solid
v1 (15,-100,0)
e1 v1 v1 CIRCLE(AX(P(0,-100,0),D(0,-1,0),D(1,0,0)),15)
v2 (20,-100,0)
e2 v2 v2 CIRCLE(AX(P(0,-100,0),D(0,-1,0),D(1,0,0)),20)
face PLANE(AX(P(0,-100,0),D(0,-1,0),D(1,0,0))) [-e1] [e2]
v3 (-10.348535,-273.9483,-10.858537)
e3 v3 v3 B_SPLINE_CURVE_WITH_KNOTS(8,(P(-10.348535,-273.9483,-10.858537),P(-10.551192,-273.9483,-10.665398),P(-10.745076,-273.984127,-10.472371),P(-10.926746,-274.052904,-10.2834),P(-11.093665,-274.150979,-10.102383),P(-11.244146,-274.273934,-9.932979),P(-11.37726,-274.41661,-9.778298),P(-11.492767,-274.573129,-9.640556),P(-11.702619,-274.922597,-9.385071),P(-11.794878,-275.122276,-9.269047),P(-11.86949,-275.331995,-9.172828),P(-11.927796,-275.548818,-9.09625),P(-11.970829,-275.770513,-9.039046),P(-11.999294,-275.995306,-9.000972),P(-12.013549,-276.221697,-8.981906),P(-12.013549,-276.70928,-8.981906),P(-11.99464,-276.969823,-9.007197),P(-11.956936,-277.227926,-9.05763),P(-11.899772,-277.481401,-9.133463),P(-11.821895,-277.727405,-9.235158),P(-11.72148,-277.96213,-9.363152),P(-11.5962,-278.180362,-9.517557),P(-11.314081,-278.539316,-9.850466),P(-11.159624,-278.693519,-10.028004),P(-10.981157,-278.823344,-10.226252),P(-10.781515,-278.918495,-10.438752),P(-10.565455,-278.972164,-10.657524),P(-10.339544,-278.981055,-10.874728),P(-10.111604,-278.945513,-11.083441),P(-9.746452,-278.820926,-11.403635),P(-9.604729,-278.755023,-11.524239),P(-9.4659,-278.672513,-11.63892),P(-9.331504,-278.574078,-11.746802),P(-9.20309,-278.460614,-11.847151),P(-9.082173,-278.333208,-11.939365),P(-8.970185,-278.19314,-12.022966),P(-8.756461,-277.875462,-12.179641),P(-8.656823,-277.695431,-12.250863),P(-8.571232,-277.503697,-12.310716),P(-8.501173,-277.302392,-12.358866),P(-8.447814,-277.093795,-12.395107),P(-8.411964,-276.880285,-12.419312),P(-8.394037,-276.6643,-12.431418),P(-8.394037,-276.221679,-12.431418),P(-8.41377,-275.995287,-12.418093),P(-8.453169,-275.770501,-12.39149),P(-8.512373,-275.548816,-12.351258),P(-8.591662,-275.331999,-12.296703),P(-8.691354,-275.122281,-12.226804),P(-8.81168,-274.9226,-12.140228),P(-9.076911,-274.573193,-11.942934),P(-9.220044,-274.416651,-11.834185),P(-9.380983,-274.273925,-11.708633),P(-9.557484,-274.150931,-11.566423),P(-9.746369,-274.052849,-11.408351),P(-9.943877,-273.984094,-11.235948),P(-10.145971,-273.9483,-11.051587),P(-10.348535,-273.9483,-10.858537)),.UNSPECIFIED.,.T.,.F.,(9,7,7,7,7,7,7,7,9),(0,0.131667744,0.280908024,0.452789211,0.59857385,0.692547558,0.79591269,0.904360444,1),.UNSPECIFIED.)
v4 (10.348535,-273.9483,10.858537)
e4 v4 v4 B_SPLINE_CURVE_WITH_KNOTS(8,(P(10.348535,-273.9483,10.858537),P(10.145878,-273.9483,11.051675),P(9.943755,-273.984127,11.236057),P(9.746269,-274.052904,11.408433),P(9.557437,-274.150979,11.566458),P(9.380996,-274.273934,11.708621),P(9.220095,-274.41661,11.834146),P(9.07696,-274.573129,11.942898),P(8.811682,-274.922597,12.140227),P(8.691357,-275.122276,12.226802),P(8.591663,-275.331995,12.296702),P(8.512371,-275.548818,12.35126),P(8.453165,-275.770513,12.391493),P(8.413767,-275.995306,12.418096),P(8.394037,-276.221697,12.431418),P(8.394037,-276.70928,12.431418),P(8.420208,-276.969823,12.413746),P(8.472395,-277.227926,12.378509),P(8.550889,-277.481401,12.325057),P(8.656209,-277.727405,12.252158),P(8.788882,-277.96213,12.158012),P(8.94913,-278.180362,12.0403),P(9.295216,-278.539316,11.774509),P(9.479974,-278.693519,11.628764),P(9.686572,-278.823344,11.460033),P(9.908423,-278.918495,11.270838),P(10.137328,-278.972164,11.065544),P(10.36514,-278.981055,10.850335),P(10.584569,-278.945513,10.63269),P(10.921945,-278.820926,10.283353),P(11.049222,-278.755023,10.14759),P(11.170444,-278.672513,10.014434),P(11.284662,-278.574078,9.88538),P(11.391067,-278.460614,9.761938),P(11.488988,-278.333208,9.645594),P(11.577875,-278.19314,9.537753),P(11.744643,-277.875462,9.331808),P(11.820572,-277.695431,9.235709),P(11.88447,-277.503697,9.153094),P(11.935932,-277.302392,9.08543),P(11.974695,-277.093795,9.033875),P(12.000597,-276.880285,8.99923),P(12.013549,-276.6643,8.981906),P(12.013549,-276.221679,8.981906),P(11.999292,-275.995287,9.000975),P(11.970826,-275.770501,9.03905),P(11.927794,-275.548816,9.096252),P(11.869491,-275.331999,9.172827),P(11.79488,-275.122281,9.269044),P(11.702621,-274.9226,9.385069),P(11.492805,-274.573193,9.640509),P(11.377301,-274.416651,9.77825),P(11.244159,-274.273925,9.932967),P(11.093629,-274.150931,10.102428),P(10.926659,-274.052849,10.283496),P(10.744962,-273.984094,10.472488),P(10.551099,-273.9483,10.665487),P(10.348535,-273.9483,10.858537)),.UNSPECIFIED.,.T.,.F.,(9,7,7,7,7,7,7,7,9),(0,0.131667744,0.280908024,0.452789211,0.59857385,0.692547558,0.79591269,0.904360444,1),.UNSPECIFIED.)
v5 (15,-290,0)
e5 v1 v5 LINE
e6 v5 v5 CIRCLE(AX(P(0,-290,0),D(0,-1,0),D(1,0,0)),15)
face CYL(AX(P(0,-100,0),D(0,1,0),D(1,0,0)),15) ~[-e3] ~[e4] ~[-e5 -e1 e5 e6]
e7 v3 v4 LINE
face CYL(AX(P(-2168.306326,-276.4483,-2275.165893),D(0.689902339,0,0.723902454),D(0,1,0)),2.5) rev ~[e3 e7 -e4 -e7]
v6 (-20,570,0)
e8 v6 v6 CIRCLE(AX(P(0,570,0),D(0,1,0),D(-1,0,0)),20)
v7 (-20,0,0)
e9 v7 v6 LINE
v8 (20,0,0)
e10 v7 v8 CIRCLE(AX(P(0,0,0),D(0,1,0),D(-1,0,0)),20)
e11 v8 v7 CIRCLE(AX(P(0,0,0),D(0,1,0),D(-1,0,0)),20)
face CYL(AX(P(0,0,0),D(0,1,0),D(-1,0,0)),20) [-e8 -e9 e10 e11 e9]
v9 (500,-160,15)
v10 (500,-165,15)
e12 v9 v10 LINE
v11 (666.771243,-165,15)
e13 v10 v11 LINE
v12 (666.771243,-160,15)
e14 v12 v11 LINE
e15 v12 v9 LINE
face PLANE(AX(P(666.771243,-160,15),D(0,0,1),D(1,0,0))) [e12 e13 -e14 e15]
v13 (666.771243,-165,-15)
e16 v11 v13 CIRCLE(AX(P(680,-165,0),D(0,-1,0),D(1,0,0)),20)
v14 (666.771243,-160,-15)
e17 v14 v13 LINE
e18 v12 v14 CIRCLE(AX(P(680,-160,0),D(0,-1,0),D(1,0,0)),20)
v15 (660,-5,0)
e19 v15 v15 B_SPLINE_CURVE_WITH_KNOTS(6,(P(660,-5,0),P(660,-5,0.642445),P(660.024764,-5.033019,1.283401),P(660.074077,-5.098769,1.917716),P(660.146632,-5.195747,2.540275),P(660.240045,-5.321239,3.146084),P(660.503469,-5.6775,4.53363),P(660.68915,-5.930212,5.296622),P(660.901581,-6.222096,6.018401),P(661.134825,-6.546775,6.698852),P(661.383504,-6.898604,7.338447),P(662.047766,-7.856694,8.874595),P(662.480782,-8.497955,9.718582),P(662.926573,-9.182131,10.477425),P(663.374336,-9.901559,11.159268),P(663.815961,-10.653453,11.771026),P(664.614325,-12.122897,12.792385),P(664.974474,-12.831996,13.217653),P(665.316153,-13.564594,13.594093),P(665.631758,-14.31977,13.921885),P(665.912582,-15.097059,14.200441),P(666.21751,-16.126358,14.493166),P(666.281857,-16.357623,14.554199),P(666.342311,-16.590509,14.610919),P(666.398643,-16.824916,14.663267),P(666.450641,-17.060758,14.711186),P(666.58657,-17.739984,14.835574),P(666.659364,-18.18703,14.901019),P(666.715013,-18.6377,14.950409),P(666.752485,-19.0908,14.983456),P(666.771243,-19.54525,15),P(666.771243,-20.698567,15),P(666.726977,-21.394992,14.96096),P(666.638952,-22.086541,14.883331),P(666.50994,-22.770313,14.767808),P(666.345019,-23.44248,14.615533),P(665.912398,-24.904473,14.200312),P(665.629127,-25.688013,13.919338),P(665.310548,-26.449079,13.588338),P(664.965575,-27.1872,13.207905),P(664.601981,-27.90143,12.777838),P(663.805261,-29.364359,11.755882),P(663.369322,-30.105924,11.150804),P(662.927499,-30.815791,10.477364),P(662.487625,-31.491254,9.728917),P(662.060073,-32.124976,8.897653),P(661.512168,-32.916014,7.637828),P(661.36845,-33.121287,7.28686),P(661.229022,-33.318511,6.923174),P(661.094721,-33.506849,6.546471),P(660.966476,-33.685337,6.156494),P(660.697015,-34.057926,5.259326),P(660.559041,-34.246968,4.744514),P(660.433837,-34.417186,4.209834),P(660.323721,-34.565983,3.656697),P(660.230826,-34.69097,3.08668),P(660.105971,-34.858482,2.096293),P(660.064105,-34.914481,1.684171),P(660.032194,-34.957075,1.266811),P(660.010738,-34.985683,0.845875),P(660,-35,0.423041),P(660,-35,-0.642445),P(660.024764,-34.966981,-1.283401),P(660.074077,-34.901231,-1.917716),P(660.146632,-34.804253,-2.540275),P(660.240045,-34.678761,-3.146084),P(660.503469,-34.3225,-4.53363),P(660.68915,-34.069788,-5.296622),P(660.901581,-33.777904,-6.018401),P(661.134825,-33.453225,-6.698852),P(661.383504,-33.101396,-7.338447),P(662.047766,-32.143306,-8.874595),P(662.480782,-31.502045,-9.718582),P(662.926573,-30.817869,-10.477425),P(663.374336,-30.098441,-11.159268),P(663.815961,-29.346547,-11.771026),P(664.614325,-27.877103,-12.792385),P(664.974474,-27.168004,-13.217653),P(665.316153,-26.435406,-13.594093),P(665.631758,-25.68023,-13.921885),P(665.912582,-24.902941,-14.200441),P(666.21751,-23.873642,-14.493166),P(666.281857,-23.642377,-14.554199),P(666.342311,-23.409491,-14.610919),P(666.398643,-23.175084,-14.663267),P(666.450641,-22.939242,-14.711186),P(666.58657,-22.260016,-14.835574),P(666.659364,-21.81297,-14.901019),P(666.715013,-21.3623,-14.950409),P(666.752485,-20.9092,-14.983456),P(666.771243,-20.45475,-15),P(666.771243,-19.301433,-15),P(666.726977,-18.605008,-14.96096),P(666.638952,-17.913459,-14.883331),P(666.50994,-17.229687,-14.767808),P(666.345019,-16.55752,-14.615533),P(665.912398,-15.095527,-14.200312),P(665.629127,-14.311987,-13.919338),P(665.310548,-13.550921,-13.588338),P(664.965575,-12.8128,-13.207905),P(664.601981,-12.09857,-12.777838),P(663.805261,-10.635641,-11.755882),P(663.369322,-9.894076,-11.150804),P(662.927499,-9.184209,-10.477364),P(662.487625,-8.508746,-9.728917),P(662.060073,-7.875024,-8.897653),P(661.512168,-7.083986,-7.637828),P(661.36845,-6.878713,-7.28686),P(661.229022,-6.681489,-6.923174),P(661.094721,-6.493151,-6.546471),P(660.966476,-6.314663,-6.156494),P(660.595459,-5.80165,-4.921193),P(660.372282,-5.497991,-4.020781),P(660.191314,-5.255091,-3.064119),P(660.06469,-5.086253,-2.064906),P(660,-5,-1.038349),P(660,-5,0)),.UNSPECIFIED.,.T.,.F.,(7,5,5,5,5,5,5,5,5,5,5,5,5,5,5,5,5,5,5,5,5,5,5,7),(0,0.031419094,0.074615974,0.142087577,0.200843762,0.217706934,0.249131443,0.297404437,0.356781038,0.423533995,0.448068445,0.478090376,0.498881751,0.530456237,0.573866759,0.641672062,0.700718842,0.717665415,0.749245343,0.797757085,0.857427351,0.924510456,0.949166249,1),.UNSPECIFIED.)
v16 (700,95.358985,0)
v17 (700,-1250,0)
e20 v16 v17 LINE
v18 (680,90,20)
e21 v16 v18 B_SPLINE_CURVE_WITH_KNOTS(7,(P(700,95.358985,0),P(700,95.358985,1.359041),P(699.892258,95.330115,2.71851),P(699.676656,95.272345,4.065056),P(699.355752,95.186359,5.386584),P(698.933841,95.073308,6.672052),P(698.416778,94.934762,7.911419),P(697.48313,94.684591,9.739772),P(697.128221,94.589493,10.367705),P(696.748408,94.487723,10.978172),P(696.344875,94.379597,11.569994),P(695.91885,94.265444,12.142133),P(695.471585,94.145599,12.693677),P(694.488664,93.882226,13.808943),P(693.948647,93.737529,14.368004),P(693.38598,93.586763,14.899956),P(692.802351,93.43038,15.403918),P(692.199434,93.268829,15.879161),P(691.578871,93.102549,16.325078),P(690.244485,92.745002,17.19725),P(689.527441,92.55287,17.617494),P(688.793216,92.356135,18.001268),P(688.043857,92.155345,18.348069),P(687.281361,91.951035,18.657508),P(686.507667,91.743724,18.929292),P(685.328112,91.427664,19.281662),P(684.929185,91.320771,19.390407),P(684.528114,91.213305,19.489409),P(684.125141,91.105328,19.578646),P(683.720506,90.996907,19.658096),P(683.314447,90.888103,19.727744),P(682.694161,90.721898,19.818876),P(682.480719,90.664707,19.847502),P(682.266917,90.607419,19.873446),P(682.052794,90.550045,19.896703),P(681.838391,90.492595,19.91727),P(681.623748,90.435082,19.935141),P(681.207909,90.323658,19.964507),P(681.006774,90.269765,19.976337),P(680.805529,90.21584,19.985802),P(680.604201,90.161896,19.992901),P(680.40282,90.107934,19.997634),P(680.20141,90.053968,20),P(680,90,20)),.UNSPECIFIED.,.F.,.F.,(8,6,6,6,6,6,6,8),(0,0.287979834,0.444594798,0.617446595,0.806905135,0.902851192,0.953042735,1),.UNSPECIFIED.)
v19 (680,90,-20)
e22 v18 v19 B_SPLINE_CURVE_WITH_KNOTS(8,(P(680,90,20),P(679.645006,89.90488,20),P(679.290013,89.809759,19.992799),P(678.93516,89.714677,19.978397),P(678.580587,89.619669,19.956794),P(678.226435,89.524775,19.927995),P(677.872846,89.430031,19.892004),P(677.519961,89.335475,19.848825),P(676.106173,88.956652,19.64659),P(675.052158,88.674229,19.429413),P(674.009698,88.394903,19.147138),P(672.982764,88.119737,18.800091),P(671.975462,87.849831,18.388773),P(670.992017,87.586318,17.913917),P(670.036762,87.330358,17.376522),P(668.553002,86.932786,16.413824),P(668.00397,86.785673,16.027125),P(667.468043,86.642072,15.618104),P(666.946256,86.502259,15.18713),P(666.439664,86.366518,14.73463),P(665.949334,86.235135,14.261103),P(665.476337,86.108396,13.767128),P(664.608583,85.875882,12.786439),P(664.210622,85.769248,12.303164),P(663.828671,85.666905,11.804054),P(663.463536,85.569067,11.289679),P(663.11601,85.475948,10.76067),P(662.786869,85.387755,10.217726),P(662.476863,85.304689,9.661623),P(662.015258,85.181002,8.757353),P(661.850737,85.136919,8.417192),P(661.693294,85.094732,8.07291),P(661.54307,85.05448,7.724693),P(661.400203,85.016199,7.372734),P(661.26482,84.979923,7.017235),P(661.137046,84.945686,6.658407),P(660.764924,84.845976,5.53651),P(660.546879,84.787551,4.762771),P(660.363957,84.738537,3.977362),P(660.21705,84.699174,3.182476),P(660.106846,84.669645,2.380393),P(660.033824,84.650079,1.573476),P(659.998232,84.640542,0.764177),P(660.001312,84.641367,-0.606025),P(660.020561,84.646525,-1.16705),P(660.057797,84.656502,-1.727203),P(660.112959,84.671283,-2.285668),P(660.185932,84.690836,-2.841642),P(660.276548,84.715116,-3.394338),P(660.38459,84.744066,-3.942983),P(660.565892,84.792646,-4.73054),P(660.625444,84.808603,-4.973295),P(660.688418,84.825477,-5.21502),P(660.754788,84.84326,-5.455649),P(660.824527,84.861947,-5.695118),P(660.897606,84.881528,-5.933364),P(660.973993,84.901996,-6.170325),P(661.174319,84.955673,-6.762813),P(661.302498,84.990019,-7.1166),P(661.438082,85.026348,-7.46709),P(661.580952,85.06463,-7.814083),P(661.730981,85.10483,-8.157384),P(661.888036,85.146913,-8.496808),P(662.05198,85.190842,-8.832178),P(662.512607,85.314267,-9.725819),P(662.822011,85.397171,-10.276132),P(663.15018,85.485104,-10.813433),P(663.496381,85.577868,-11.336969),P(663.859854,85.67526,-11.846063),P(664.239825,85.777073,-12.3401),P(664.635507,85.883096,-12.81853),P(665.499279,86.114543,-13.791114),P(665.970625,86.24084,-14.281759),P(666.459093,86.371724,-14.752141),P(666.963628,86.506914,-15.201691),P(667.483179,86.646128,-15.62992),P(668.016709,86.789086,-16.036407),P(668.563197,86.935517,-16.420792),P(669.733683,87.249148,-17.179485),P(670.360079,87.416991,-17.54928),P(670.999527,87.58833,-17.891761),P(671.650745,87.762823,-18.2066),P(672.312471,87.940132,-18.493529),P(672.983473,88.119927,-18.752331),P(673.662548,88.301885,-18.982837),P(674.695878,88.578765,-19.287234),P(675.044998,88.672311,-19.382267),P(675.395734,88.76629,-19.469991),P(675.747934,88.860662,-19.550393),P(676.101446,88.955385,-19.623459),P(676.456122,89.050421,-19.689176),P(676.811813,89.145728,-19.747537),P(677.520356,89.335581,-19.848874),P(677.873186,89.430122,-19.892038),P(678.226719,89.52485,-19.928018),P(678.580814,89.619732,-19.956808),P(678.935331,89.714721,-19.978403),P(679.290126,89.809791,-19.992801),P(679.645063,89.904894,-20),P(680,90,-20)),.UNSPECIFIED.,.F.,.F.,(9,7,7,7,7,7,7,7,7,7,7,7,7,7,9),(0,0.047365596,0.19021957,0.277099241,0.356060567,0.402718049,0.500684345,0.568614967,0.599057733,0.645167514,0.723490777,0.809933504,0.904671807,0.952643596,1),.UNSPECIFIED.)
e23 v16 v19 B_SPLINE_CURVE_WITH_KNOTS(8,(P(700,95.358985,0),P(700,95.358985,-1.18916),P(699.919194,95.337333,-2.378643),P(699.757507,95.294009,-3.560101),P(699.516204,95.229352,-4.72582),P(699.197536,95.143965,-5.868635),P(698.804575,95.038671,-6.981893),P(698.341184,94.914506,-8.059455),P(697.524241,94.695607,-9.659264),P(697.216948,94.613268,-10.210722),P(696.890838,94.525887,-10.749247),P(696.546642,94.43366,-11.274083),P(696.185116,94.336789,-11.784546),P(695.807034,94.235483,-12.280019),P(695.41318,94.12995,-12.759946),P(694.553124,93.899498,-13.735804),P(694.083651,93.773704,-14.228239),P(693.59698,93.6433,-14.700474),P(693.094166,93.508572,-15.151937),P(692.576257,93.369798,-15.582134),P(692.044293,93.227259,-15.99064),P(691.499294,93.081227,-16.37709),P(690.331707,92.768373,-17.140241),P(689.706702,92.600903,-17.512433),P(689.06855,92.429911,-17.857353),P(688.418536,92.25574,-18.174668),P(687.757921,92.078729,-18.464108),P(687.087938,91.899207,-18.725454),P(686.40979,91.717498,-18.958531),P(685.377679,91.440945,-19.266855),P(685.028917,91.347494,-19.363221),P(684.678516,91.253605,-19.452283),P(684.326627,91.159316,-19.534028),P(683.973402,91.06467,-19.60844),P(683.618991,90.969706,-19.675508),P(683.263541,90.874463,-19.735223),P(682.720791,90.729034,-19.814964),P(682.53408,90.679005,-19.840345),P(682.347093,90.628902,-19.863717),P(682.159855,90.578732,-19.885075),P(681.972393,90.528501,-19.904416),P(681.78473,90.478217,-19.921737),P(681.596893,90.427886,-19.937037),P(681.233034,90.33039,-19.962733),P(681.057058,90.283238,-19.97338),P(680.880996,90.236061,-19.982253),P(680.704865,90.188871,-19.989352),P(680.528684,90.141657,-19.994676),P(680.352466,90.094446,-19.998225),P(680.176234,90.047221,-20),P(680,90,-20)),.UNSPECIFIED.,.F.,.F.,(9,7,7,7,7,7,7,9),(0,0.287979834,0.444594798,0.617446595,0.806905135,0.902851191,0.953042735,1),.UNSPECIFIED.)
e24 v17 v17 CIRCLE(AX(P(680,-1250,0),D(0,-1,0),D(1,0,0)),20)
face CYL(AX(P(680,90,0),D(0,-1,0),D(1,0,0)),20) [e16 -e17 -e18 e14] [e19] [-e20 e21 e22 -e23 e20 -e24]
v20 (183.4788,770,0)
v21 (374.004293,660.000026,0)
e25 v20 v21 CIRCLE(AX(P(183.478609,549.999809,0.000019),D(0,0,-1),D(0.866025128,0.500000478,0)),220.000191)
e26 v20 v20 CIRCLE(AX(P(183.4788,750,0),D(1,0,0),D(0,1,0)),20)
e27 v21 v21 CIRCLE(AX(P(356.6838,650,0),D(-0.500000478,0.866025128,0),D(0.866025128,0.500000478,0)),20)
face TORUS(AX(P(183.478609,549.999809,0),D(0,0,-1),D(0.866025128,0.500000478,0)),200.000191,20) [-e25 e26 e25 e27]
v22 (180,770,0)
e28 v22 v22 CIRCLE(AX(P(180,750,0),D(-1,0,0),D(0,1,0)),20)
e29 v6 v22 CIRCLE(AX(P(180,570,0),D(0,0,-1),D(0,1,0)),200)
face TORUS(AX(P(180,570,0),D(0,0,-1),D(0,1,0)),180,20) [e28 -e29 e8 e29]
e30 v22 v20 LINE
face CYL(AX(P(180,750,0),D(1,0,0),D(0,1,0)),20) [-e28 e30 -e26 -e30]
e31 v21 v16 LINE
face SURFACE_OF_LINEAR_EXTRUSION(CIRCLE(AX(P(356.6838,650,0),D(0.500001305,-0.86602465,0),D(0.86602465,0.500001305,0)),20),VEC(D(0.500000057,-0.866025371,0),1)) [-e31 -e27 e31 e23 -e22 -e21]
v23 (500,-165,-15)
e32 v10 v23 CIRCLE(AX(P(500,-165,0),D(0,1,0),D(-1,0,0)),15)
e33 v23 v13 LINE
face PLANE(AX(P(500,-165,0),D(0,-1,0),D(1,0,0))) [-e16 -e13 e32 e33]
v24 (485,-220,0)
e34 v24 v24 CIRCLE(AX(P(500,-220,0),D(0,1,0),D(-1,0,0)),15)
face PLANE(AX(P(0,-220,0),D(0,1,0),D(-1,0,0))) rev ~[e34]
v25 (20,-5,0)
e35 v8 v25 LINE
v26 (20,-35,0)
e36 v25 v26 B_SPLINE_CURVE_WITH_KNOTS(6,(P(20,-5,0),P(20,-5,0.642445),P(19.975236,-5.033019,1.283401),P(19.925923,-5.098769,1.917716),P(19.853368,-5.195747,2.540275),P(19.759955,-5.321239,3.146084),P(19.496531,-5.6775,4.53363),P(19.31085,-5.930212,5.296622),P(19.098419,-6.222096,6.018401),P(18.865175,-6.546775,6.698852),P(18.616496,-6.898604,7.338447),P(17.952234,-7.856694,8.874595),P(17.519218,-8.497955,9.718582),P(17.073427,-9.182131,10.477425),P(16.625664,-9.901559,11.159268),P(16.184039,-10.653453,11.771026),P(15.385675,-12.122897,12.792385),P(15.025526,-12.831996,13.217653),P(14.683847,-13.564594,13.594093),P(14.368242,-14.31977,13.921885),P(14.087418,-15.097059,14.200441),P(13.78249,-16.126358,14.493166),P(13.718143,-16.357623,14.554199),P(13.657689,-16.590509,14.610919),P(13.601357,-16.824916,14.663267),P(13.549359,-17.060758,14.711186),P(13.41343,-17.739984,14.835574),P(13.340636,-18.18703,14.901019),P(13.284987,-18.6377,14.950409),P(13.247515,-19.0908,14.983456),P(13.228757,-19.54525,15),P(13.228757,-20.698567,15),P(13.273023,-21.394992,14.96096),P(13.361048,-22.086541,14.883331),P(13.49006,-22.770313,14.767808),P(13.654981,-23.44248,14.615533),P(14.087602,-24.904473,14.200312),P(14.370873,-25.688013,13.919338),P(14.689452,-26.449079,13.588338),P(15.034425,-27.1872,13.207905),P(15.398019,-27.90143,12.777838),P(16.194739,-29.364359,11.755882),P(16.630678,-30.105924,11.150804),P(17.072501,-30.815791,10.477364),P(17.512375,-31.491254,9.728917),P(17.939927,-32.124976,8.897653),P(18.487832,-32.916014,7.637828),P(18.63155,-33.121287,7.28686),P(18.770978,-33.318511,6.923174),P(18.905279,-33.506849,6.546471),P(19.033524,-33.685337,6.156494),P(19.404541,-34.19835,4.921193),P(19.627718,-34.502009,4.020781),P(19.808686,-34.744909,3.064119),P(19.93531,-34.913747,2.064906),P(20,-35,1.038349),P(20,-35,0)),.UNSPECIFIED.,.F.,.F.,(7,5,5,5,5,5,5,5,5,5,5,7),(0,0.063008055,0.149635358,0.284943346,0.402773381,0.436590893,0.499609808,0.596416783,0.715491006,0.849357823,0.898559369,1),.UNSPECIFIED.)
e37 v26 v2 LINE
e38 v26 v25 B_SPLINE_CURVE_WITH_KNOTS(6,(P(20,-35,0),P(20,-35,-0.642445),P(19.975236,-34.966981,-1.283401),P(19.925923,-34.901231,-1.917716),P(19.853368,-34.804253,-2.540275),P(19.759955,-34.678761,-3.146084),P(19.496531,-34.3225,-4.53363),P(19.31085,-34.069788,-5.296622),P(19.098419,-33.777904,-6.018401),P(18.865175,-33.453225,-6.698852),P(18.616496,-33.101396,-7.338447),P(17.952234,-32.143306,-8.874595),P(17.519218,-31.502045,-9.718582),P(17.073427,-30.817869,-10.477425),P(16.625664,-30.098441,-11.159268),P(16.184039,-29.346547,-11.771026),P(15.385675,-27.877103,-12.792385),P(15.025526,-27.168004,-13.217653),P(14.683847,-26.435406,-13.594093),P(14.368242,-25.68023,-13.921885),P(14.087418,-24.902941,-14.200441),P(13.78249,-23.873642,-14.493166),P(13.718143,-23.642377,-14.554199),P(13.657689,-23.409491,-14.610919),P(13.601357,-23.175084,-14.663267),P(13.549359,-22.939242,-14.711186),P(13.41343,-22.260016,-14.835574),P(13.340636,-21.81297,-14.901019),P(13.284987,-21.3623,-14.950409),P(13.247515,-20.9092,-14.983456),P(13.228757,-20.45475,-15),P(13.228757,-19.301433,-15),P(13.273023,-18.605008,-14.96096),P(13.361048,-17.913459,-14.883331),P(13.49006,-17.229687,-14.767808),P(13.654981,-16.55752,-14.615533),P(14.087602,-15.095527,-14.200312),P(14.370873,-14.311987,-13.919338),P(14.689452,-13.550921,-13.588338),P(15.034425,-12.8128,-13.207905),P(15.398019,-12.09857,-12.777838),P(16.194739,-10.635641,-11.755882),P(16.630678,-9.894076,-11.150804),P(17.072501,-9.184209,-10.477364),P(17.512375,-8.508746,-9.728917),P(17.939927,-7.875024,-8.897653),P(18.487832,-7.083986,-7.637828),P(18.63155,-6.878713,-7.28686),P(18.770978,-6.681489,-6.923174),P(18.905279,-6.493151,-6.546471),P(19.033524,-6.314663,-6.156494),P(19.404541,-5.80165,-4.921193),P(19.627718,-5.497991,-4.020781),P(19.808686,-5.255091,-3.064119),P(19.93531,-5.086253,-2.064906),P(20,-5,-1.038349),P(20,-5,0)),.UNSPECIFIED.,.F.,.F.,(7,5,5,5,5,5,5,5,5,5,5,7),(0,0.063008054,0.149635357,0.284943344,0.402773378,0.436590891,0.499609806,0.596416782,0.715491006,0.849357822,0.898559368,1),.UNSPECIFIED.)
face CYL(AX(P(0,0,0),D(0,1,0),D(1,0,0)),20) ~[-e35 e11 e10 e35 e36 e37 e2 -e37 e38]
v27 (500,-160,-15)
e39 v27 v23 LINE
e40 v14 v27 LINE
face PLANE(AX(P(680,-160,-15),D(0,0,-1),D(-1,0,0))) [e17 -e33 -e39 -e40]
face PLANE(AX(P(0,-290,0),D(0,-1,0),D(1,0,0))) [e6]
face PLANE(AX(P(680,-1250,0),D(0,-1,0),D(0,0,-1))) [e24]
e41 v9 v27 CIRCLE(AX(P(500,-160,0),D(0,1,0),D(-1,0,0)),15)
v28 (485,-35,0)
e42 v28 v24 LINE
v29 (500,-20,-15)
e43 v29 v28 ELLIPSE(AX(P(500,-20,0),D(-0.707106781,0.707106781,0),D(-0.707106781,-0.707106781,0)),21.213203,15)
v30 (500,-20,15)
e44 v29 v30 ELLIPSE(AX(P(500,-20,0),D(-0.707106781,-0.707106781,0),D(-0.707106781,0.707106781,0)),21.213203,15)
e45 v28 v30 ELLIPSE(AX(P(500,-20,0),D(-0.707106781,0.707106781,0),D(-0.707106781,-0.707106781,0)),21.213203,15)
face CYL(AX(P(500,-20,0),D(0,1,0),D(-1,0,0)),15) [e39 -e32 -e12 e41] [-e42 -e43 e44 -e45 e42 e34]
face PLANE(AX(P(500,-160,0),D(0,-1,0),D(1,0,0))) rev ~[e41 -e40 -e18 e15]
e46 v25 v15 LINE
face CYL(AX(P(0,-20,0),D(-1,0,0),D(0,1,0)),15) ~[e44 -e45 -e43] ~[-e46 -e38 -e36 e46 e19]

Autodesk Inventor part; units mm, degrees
ref_plane "YZ Plane" through (0, 0, 0) normal (1, 0, 0) x (0, 1, 0)
ref_plane "XY Plane" through (0, 0, 0) normal (0, 0, 1) x (1, 0, 0)
sketch "Skizze1" plane through (0, 0, 0) normal (0, 1, 0) x (-1, 0, 0)
  circle A0 centre (0, 0) radius 20
  dimension "d0" = 40
sketch "Skizze2" plane through (0, 0, 0) normal (0, 0, 1) x (1, 0, 0)
  line L0 (0, 0) -> (0, 570)
  line L1 (180, 750) -> (183.4788, 750)
  line L2 (356.6838, 650) -> (680, 90)
  line L3 (680, 90) -> (680, -1250)
  arc A0 (180, 750) -> (0, 570) centre (180, 570) ccw
  arc A1 (356.6838, 650) -> (183.4788, 750) centre (183.4788, 550) ccw
  point P0 (0, 750)
  dimension "d1" = 750
  dimension "d4" = 90
  dimension "d8" = 2000
  dimension "d9" = 30
  dimension "d10" = 680
  dimension "d11" = 180
  dimension "d12" = 200
sweep "Sweeping1" add profiles "Skizze1" path "Skizze2"
sketch "Skizze3" plane through (0, 0, 0) normal (1, 0, 0) x (0, 1, 0)
  circle A0 centre (-20, 0) radius 15
  line L0 (0, 20) -> (0, -20) projected
  point P0 (0, 0)
  point P1 (0, 0)
  dimension "d16" = 30
  dimension "d27" = 20
extrude "Extrusion1" add sketch "Skizze3" along normal blind 680
sketch "Skizze4" plane through (0, 0, 0) normal (0, -1, 0) x (1, 0, 0)
  circle A0 centre (0, 0) radius 20 projected
extrude "Extrusion2" add sketch "Skizze4" along normal blind 100
ref_plane "Arbeitsebene1" through (0, -20, 0) normal (0, 1, 0) x (-1, 0, 0)
sketch "Skizze5" plane through (0, -20, 0) normal (0, 1, 0) x (-1, 0, 0)
  circle A0 centre (0, 0) radius 20 projected
  circle A1 centre (-500, 0) radius 15
  dimension "d23" = 30
  dimension "d24" = 500
extrude "Extrusion3" add sketch "Skizze5" against normal blind 200 contours A1
ref_plane "Arbeitsebene2" through (500, -160, 0) normal (0, -1, 0) x (1, 0, 0)
sketch "Skizze6" plane through (500, -160, 0) normal (0, -1, 0) x (1, 0, 0)
  circle A0 centre (180, 0) radius 20 projected
  circle A1 centre (0, 0) radius 15 projected
  line L0 (0, 15) -> (180, 15)
  line L1 (180, 15) -> (180, -15)
  line L2 (180, -15) -> (0, -15)
  line L3 (0, -15) -> (0, 15)
  point P0 (-500, 0)
  dimension "d29" = 30
  dimension "d30" = 15
  dimension "d31" = 0
extrude "Extrusion4" add sketch "Skizze6" along normal blind 5 contours L0 L1 L2 A0 | A0 L2 A1 L0 | A1 L3 picked at (173.3822, 0.8057) picked at (4.2301, 4.0345)
sketch "Skizze7" plane through (0, -100, 0) normal (0, -1, 0) x (1, 0, 0)
  circle A0 centre (0, 0) radius 20 projected
  circle A1 centre (0, 0) radius 15
  dimension "d34" = 30
extrude "Extrusion5" add sketch "Skizze7" along normal blind 190 contours A1
ref_plane "Arbeitsebene4" through (0, -100, 0) normal (-0.6899, 0, -0.7239) x (0, -1, 0)
ref_plane "Arbeitsebene3" through (-18.0987, -249.8051, 17.2464) normal (-0.7239, 0, 0.6899) x (0, -1, 0)
sketch "Skizze8" plane through (0, -100, 0) normal (-0.6899, 0, -0.7239) x (0, -1, 0)
  line L0 (190, -15) -> (190, 15) projected
  line L1 (0, 15) -> (0, -15) projected
  point P0 (-100, 0)
  point P1 (176.4483, 0)
hole "Bohrung1" at (0, -276.4483, 0) direction (0.6899, 0, 0.7239) diameter 5 end through all both
properties part number "Geländer kurz"
